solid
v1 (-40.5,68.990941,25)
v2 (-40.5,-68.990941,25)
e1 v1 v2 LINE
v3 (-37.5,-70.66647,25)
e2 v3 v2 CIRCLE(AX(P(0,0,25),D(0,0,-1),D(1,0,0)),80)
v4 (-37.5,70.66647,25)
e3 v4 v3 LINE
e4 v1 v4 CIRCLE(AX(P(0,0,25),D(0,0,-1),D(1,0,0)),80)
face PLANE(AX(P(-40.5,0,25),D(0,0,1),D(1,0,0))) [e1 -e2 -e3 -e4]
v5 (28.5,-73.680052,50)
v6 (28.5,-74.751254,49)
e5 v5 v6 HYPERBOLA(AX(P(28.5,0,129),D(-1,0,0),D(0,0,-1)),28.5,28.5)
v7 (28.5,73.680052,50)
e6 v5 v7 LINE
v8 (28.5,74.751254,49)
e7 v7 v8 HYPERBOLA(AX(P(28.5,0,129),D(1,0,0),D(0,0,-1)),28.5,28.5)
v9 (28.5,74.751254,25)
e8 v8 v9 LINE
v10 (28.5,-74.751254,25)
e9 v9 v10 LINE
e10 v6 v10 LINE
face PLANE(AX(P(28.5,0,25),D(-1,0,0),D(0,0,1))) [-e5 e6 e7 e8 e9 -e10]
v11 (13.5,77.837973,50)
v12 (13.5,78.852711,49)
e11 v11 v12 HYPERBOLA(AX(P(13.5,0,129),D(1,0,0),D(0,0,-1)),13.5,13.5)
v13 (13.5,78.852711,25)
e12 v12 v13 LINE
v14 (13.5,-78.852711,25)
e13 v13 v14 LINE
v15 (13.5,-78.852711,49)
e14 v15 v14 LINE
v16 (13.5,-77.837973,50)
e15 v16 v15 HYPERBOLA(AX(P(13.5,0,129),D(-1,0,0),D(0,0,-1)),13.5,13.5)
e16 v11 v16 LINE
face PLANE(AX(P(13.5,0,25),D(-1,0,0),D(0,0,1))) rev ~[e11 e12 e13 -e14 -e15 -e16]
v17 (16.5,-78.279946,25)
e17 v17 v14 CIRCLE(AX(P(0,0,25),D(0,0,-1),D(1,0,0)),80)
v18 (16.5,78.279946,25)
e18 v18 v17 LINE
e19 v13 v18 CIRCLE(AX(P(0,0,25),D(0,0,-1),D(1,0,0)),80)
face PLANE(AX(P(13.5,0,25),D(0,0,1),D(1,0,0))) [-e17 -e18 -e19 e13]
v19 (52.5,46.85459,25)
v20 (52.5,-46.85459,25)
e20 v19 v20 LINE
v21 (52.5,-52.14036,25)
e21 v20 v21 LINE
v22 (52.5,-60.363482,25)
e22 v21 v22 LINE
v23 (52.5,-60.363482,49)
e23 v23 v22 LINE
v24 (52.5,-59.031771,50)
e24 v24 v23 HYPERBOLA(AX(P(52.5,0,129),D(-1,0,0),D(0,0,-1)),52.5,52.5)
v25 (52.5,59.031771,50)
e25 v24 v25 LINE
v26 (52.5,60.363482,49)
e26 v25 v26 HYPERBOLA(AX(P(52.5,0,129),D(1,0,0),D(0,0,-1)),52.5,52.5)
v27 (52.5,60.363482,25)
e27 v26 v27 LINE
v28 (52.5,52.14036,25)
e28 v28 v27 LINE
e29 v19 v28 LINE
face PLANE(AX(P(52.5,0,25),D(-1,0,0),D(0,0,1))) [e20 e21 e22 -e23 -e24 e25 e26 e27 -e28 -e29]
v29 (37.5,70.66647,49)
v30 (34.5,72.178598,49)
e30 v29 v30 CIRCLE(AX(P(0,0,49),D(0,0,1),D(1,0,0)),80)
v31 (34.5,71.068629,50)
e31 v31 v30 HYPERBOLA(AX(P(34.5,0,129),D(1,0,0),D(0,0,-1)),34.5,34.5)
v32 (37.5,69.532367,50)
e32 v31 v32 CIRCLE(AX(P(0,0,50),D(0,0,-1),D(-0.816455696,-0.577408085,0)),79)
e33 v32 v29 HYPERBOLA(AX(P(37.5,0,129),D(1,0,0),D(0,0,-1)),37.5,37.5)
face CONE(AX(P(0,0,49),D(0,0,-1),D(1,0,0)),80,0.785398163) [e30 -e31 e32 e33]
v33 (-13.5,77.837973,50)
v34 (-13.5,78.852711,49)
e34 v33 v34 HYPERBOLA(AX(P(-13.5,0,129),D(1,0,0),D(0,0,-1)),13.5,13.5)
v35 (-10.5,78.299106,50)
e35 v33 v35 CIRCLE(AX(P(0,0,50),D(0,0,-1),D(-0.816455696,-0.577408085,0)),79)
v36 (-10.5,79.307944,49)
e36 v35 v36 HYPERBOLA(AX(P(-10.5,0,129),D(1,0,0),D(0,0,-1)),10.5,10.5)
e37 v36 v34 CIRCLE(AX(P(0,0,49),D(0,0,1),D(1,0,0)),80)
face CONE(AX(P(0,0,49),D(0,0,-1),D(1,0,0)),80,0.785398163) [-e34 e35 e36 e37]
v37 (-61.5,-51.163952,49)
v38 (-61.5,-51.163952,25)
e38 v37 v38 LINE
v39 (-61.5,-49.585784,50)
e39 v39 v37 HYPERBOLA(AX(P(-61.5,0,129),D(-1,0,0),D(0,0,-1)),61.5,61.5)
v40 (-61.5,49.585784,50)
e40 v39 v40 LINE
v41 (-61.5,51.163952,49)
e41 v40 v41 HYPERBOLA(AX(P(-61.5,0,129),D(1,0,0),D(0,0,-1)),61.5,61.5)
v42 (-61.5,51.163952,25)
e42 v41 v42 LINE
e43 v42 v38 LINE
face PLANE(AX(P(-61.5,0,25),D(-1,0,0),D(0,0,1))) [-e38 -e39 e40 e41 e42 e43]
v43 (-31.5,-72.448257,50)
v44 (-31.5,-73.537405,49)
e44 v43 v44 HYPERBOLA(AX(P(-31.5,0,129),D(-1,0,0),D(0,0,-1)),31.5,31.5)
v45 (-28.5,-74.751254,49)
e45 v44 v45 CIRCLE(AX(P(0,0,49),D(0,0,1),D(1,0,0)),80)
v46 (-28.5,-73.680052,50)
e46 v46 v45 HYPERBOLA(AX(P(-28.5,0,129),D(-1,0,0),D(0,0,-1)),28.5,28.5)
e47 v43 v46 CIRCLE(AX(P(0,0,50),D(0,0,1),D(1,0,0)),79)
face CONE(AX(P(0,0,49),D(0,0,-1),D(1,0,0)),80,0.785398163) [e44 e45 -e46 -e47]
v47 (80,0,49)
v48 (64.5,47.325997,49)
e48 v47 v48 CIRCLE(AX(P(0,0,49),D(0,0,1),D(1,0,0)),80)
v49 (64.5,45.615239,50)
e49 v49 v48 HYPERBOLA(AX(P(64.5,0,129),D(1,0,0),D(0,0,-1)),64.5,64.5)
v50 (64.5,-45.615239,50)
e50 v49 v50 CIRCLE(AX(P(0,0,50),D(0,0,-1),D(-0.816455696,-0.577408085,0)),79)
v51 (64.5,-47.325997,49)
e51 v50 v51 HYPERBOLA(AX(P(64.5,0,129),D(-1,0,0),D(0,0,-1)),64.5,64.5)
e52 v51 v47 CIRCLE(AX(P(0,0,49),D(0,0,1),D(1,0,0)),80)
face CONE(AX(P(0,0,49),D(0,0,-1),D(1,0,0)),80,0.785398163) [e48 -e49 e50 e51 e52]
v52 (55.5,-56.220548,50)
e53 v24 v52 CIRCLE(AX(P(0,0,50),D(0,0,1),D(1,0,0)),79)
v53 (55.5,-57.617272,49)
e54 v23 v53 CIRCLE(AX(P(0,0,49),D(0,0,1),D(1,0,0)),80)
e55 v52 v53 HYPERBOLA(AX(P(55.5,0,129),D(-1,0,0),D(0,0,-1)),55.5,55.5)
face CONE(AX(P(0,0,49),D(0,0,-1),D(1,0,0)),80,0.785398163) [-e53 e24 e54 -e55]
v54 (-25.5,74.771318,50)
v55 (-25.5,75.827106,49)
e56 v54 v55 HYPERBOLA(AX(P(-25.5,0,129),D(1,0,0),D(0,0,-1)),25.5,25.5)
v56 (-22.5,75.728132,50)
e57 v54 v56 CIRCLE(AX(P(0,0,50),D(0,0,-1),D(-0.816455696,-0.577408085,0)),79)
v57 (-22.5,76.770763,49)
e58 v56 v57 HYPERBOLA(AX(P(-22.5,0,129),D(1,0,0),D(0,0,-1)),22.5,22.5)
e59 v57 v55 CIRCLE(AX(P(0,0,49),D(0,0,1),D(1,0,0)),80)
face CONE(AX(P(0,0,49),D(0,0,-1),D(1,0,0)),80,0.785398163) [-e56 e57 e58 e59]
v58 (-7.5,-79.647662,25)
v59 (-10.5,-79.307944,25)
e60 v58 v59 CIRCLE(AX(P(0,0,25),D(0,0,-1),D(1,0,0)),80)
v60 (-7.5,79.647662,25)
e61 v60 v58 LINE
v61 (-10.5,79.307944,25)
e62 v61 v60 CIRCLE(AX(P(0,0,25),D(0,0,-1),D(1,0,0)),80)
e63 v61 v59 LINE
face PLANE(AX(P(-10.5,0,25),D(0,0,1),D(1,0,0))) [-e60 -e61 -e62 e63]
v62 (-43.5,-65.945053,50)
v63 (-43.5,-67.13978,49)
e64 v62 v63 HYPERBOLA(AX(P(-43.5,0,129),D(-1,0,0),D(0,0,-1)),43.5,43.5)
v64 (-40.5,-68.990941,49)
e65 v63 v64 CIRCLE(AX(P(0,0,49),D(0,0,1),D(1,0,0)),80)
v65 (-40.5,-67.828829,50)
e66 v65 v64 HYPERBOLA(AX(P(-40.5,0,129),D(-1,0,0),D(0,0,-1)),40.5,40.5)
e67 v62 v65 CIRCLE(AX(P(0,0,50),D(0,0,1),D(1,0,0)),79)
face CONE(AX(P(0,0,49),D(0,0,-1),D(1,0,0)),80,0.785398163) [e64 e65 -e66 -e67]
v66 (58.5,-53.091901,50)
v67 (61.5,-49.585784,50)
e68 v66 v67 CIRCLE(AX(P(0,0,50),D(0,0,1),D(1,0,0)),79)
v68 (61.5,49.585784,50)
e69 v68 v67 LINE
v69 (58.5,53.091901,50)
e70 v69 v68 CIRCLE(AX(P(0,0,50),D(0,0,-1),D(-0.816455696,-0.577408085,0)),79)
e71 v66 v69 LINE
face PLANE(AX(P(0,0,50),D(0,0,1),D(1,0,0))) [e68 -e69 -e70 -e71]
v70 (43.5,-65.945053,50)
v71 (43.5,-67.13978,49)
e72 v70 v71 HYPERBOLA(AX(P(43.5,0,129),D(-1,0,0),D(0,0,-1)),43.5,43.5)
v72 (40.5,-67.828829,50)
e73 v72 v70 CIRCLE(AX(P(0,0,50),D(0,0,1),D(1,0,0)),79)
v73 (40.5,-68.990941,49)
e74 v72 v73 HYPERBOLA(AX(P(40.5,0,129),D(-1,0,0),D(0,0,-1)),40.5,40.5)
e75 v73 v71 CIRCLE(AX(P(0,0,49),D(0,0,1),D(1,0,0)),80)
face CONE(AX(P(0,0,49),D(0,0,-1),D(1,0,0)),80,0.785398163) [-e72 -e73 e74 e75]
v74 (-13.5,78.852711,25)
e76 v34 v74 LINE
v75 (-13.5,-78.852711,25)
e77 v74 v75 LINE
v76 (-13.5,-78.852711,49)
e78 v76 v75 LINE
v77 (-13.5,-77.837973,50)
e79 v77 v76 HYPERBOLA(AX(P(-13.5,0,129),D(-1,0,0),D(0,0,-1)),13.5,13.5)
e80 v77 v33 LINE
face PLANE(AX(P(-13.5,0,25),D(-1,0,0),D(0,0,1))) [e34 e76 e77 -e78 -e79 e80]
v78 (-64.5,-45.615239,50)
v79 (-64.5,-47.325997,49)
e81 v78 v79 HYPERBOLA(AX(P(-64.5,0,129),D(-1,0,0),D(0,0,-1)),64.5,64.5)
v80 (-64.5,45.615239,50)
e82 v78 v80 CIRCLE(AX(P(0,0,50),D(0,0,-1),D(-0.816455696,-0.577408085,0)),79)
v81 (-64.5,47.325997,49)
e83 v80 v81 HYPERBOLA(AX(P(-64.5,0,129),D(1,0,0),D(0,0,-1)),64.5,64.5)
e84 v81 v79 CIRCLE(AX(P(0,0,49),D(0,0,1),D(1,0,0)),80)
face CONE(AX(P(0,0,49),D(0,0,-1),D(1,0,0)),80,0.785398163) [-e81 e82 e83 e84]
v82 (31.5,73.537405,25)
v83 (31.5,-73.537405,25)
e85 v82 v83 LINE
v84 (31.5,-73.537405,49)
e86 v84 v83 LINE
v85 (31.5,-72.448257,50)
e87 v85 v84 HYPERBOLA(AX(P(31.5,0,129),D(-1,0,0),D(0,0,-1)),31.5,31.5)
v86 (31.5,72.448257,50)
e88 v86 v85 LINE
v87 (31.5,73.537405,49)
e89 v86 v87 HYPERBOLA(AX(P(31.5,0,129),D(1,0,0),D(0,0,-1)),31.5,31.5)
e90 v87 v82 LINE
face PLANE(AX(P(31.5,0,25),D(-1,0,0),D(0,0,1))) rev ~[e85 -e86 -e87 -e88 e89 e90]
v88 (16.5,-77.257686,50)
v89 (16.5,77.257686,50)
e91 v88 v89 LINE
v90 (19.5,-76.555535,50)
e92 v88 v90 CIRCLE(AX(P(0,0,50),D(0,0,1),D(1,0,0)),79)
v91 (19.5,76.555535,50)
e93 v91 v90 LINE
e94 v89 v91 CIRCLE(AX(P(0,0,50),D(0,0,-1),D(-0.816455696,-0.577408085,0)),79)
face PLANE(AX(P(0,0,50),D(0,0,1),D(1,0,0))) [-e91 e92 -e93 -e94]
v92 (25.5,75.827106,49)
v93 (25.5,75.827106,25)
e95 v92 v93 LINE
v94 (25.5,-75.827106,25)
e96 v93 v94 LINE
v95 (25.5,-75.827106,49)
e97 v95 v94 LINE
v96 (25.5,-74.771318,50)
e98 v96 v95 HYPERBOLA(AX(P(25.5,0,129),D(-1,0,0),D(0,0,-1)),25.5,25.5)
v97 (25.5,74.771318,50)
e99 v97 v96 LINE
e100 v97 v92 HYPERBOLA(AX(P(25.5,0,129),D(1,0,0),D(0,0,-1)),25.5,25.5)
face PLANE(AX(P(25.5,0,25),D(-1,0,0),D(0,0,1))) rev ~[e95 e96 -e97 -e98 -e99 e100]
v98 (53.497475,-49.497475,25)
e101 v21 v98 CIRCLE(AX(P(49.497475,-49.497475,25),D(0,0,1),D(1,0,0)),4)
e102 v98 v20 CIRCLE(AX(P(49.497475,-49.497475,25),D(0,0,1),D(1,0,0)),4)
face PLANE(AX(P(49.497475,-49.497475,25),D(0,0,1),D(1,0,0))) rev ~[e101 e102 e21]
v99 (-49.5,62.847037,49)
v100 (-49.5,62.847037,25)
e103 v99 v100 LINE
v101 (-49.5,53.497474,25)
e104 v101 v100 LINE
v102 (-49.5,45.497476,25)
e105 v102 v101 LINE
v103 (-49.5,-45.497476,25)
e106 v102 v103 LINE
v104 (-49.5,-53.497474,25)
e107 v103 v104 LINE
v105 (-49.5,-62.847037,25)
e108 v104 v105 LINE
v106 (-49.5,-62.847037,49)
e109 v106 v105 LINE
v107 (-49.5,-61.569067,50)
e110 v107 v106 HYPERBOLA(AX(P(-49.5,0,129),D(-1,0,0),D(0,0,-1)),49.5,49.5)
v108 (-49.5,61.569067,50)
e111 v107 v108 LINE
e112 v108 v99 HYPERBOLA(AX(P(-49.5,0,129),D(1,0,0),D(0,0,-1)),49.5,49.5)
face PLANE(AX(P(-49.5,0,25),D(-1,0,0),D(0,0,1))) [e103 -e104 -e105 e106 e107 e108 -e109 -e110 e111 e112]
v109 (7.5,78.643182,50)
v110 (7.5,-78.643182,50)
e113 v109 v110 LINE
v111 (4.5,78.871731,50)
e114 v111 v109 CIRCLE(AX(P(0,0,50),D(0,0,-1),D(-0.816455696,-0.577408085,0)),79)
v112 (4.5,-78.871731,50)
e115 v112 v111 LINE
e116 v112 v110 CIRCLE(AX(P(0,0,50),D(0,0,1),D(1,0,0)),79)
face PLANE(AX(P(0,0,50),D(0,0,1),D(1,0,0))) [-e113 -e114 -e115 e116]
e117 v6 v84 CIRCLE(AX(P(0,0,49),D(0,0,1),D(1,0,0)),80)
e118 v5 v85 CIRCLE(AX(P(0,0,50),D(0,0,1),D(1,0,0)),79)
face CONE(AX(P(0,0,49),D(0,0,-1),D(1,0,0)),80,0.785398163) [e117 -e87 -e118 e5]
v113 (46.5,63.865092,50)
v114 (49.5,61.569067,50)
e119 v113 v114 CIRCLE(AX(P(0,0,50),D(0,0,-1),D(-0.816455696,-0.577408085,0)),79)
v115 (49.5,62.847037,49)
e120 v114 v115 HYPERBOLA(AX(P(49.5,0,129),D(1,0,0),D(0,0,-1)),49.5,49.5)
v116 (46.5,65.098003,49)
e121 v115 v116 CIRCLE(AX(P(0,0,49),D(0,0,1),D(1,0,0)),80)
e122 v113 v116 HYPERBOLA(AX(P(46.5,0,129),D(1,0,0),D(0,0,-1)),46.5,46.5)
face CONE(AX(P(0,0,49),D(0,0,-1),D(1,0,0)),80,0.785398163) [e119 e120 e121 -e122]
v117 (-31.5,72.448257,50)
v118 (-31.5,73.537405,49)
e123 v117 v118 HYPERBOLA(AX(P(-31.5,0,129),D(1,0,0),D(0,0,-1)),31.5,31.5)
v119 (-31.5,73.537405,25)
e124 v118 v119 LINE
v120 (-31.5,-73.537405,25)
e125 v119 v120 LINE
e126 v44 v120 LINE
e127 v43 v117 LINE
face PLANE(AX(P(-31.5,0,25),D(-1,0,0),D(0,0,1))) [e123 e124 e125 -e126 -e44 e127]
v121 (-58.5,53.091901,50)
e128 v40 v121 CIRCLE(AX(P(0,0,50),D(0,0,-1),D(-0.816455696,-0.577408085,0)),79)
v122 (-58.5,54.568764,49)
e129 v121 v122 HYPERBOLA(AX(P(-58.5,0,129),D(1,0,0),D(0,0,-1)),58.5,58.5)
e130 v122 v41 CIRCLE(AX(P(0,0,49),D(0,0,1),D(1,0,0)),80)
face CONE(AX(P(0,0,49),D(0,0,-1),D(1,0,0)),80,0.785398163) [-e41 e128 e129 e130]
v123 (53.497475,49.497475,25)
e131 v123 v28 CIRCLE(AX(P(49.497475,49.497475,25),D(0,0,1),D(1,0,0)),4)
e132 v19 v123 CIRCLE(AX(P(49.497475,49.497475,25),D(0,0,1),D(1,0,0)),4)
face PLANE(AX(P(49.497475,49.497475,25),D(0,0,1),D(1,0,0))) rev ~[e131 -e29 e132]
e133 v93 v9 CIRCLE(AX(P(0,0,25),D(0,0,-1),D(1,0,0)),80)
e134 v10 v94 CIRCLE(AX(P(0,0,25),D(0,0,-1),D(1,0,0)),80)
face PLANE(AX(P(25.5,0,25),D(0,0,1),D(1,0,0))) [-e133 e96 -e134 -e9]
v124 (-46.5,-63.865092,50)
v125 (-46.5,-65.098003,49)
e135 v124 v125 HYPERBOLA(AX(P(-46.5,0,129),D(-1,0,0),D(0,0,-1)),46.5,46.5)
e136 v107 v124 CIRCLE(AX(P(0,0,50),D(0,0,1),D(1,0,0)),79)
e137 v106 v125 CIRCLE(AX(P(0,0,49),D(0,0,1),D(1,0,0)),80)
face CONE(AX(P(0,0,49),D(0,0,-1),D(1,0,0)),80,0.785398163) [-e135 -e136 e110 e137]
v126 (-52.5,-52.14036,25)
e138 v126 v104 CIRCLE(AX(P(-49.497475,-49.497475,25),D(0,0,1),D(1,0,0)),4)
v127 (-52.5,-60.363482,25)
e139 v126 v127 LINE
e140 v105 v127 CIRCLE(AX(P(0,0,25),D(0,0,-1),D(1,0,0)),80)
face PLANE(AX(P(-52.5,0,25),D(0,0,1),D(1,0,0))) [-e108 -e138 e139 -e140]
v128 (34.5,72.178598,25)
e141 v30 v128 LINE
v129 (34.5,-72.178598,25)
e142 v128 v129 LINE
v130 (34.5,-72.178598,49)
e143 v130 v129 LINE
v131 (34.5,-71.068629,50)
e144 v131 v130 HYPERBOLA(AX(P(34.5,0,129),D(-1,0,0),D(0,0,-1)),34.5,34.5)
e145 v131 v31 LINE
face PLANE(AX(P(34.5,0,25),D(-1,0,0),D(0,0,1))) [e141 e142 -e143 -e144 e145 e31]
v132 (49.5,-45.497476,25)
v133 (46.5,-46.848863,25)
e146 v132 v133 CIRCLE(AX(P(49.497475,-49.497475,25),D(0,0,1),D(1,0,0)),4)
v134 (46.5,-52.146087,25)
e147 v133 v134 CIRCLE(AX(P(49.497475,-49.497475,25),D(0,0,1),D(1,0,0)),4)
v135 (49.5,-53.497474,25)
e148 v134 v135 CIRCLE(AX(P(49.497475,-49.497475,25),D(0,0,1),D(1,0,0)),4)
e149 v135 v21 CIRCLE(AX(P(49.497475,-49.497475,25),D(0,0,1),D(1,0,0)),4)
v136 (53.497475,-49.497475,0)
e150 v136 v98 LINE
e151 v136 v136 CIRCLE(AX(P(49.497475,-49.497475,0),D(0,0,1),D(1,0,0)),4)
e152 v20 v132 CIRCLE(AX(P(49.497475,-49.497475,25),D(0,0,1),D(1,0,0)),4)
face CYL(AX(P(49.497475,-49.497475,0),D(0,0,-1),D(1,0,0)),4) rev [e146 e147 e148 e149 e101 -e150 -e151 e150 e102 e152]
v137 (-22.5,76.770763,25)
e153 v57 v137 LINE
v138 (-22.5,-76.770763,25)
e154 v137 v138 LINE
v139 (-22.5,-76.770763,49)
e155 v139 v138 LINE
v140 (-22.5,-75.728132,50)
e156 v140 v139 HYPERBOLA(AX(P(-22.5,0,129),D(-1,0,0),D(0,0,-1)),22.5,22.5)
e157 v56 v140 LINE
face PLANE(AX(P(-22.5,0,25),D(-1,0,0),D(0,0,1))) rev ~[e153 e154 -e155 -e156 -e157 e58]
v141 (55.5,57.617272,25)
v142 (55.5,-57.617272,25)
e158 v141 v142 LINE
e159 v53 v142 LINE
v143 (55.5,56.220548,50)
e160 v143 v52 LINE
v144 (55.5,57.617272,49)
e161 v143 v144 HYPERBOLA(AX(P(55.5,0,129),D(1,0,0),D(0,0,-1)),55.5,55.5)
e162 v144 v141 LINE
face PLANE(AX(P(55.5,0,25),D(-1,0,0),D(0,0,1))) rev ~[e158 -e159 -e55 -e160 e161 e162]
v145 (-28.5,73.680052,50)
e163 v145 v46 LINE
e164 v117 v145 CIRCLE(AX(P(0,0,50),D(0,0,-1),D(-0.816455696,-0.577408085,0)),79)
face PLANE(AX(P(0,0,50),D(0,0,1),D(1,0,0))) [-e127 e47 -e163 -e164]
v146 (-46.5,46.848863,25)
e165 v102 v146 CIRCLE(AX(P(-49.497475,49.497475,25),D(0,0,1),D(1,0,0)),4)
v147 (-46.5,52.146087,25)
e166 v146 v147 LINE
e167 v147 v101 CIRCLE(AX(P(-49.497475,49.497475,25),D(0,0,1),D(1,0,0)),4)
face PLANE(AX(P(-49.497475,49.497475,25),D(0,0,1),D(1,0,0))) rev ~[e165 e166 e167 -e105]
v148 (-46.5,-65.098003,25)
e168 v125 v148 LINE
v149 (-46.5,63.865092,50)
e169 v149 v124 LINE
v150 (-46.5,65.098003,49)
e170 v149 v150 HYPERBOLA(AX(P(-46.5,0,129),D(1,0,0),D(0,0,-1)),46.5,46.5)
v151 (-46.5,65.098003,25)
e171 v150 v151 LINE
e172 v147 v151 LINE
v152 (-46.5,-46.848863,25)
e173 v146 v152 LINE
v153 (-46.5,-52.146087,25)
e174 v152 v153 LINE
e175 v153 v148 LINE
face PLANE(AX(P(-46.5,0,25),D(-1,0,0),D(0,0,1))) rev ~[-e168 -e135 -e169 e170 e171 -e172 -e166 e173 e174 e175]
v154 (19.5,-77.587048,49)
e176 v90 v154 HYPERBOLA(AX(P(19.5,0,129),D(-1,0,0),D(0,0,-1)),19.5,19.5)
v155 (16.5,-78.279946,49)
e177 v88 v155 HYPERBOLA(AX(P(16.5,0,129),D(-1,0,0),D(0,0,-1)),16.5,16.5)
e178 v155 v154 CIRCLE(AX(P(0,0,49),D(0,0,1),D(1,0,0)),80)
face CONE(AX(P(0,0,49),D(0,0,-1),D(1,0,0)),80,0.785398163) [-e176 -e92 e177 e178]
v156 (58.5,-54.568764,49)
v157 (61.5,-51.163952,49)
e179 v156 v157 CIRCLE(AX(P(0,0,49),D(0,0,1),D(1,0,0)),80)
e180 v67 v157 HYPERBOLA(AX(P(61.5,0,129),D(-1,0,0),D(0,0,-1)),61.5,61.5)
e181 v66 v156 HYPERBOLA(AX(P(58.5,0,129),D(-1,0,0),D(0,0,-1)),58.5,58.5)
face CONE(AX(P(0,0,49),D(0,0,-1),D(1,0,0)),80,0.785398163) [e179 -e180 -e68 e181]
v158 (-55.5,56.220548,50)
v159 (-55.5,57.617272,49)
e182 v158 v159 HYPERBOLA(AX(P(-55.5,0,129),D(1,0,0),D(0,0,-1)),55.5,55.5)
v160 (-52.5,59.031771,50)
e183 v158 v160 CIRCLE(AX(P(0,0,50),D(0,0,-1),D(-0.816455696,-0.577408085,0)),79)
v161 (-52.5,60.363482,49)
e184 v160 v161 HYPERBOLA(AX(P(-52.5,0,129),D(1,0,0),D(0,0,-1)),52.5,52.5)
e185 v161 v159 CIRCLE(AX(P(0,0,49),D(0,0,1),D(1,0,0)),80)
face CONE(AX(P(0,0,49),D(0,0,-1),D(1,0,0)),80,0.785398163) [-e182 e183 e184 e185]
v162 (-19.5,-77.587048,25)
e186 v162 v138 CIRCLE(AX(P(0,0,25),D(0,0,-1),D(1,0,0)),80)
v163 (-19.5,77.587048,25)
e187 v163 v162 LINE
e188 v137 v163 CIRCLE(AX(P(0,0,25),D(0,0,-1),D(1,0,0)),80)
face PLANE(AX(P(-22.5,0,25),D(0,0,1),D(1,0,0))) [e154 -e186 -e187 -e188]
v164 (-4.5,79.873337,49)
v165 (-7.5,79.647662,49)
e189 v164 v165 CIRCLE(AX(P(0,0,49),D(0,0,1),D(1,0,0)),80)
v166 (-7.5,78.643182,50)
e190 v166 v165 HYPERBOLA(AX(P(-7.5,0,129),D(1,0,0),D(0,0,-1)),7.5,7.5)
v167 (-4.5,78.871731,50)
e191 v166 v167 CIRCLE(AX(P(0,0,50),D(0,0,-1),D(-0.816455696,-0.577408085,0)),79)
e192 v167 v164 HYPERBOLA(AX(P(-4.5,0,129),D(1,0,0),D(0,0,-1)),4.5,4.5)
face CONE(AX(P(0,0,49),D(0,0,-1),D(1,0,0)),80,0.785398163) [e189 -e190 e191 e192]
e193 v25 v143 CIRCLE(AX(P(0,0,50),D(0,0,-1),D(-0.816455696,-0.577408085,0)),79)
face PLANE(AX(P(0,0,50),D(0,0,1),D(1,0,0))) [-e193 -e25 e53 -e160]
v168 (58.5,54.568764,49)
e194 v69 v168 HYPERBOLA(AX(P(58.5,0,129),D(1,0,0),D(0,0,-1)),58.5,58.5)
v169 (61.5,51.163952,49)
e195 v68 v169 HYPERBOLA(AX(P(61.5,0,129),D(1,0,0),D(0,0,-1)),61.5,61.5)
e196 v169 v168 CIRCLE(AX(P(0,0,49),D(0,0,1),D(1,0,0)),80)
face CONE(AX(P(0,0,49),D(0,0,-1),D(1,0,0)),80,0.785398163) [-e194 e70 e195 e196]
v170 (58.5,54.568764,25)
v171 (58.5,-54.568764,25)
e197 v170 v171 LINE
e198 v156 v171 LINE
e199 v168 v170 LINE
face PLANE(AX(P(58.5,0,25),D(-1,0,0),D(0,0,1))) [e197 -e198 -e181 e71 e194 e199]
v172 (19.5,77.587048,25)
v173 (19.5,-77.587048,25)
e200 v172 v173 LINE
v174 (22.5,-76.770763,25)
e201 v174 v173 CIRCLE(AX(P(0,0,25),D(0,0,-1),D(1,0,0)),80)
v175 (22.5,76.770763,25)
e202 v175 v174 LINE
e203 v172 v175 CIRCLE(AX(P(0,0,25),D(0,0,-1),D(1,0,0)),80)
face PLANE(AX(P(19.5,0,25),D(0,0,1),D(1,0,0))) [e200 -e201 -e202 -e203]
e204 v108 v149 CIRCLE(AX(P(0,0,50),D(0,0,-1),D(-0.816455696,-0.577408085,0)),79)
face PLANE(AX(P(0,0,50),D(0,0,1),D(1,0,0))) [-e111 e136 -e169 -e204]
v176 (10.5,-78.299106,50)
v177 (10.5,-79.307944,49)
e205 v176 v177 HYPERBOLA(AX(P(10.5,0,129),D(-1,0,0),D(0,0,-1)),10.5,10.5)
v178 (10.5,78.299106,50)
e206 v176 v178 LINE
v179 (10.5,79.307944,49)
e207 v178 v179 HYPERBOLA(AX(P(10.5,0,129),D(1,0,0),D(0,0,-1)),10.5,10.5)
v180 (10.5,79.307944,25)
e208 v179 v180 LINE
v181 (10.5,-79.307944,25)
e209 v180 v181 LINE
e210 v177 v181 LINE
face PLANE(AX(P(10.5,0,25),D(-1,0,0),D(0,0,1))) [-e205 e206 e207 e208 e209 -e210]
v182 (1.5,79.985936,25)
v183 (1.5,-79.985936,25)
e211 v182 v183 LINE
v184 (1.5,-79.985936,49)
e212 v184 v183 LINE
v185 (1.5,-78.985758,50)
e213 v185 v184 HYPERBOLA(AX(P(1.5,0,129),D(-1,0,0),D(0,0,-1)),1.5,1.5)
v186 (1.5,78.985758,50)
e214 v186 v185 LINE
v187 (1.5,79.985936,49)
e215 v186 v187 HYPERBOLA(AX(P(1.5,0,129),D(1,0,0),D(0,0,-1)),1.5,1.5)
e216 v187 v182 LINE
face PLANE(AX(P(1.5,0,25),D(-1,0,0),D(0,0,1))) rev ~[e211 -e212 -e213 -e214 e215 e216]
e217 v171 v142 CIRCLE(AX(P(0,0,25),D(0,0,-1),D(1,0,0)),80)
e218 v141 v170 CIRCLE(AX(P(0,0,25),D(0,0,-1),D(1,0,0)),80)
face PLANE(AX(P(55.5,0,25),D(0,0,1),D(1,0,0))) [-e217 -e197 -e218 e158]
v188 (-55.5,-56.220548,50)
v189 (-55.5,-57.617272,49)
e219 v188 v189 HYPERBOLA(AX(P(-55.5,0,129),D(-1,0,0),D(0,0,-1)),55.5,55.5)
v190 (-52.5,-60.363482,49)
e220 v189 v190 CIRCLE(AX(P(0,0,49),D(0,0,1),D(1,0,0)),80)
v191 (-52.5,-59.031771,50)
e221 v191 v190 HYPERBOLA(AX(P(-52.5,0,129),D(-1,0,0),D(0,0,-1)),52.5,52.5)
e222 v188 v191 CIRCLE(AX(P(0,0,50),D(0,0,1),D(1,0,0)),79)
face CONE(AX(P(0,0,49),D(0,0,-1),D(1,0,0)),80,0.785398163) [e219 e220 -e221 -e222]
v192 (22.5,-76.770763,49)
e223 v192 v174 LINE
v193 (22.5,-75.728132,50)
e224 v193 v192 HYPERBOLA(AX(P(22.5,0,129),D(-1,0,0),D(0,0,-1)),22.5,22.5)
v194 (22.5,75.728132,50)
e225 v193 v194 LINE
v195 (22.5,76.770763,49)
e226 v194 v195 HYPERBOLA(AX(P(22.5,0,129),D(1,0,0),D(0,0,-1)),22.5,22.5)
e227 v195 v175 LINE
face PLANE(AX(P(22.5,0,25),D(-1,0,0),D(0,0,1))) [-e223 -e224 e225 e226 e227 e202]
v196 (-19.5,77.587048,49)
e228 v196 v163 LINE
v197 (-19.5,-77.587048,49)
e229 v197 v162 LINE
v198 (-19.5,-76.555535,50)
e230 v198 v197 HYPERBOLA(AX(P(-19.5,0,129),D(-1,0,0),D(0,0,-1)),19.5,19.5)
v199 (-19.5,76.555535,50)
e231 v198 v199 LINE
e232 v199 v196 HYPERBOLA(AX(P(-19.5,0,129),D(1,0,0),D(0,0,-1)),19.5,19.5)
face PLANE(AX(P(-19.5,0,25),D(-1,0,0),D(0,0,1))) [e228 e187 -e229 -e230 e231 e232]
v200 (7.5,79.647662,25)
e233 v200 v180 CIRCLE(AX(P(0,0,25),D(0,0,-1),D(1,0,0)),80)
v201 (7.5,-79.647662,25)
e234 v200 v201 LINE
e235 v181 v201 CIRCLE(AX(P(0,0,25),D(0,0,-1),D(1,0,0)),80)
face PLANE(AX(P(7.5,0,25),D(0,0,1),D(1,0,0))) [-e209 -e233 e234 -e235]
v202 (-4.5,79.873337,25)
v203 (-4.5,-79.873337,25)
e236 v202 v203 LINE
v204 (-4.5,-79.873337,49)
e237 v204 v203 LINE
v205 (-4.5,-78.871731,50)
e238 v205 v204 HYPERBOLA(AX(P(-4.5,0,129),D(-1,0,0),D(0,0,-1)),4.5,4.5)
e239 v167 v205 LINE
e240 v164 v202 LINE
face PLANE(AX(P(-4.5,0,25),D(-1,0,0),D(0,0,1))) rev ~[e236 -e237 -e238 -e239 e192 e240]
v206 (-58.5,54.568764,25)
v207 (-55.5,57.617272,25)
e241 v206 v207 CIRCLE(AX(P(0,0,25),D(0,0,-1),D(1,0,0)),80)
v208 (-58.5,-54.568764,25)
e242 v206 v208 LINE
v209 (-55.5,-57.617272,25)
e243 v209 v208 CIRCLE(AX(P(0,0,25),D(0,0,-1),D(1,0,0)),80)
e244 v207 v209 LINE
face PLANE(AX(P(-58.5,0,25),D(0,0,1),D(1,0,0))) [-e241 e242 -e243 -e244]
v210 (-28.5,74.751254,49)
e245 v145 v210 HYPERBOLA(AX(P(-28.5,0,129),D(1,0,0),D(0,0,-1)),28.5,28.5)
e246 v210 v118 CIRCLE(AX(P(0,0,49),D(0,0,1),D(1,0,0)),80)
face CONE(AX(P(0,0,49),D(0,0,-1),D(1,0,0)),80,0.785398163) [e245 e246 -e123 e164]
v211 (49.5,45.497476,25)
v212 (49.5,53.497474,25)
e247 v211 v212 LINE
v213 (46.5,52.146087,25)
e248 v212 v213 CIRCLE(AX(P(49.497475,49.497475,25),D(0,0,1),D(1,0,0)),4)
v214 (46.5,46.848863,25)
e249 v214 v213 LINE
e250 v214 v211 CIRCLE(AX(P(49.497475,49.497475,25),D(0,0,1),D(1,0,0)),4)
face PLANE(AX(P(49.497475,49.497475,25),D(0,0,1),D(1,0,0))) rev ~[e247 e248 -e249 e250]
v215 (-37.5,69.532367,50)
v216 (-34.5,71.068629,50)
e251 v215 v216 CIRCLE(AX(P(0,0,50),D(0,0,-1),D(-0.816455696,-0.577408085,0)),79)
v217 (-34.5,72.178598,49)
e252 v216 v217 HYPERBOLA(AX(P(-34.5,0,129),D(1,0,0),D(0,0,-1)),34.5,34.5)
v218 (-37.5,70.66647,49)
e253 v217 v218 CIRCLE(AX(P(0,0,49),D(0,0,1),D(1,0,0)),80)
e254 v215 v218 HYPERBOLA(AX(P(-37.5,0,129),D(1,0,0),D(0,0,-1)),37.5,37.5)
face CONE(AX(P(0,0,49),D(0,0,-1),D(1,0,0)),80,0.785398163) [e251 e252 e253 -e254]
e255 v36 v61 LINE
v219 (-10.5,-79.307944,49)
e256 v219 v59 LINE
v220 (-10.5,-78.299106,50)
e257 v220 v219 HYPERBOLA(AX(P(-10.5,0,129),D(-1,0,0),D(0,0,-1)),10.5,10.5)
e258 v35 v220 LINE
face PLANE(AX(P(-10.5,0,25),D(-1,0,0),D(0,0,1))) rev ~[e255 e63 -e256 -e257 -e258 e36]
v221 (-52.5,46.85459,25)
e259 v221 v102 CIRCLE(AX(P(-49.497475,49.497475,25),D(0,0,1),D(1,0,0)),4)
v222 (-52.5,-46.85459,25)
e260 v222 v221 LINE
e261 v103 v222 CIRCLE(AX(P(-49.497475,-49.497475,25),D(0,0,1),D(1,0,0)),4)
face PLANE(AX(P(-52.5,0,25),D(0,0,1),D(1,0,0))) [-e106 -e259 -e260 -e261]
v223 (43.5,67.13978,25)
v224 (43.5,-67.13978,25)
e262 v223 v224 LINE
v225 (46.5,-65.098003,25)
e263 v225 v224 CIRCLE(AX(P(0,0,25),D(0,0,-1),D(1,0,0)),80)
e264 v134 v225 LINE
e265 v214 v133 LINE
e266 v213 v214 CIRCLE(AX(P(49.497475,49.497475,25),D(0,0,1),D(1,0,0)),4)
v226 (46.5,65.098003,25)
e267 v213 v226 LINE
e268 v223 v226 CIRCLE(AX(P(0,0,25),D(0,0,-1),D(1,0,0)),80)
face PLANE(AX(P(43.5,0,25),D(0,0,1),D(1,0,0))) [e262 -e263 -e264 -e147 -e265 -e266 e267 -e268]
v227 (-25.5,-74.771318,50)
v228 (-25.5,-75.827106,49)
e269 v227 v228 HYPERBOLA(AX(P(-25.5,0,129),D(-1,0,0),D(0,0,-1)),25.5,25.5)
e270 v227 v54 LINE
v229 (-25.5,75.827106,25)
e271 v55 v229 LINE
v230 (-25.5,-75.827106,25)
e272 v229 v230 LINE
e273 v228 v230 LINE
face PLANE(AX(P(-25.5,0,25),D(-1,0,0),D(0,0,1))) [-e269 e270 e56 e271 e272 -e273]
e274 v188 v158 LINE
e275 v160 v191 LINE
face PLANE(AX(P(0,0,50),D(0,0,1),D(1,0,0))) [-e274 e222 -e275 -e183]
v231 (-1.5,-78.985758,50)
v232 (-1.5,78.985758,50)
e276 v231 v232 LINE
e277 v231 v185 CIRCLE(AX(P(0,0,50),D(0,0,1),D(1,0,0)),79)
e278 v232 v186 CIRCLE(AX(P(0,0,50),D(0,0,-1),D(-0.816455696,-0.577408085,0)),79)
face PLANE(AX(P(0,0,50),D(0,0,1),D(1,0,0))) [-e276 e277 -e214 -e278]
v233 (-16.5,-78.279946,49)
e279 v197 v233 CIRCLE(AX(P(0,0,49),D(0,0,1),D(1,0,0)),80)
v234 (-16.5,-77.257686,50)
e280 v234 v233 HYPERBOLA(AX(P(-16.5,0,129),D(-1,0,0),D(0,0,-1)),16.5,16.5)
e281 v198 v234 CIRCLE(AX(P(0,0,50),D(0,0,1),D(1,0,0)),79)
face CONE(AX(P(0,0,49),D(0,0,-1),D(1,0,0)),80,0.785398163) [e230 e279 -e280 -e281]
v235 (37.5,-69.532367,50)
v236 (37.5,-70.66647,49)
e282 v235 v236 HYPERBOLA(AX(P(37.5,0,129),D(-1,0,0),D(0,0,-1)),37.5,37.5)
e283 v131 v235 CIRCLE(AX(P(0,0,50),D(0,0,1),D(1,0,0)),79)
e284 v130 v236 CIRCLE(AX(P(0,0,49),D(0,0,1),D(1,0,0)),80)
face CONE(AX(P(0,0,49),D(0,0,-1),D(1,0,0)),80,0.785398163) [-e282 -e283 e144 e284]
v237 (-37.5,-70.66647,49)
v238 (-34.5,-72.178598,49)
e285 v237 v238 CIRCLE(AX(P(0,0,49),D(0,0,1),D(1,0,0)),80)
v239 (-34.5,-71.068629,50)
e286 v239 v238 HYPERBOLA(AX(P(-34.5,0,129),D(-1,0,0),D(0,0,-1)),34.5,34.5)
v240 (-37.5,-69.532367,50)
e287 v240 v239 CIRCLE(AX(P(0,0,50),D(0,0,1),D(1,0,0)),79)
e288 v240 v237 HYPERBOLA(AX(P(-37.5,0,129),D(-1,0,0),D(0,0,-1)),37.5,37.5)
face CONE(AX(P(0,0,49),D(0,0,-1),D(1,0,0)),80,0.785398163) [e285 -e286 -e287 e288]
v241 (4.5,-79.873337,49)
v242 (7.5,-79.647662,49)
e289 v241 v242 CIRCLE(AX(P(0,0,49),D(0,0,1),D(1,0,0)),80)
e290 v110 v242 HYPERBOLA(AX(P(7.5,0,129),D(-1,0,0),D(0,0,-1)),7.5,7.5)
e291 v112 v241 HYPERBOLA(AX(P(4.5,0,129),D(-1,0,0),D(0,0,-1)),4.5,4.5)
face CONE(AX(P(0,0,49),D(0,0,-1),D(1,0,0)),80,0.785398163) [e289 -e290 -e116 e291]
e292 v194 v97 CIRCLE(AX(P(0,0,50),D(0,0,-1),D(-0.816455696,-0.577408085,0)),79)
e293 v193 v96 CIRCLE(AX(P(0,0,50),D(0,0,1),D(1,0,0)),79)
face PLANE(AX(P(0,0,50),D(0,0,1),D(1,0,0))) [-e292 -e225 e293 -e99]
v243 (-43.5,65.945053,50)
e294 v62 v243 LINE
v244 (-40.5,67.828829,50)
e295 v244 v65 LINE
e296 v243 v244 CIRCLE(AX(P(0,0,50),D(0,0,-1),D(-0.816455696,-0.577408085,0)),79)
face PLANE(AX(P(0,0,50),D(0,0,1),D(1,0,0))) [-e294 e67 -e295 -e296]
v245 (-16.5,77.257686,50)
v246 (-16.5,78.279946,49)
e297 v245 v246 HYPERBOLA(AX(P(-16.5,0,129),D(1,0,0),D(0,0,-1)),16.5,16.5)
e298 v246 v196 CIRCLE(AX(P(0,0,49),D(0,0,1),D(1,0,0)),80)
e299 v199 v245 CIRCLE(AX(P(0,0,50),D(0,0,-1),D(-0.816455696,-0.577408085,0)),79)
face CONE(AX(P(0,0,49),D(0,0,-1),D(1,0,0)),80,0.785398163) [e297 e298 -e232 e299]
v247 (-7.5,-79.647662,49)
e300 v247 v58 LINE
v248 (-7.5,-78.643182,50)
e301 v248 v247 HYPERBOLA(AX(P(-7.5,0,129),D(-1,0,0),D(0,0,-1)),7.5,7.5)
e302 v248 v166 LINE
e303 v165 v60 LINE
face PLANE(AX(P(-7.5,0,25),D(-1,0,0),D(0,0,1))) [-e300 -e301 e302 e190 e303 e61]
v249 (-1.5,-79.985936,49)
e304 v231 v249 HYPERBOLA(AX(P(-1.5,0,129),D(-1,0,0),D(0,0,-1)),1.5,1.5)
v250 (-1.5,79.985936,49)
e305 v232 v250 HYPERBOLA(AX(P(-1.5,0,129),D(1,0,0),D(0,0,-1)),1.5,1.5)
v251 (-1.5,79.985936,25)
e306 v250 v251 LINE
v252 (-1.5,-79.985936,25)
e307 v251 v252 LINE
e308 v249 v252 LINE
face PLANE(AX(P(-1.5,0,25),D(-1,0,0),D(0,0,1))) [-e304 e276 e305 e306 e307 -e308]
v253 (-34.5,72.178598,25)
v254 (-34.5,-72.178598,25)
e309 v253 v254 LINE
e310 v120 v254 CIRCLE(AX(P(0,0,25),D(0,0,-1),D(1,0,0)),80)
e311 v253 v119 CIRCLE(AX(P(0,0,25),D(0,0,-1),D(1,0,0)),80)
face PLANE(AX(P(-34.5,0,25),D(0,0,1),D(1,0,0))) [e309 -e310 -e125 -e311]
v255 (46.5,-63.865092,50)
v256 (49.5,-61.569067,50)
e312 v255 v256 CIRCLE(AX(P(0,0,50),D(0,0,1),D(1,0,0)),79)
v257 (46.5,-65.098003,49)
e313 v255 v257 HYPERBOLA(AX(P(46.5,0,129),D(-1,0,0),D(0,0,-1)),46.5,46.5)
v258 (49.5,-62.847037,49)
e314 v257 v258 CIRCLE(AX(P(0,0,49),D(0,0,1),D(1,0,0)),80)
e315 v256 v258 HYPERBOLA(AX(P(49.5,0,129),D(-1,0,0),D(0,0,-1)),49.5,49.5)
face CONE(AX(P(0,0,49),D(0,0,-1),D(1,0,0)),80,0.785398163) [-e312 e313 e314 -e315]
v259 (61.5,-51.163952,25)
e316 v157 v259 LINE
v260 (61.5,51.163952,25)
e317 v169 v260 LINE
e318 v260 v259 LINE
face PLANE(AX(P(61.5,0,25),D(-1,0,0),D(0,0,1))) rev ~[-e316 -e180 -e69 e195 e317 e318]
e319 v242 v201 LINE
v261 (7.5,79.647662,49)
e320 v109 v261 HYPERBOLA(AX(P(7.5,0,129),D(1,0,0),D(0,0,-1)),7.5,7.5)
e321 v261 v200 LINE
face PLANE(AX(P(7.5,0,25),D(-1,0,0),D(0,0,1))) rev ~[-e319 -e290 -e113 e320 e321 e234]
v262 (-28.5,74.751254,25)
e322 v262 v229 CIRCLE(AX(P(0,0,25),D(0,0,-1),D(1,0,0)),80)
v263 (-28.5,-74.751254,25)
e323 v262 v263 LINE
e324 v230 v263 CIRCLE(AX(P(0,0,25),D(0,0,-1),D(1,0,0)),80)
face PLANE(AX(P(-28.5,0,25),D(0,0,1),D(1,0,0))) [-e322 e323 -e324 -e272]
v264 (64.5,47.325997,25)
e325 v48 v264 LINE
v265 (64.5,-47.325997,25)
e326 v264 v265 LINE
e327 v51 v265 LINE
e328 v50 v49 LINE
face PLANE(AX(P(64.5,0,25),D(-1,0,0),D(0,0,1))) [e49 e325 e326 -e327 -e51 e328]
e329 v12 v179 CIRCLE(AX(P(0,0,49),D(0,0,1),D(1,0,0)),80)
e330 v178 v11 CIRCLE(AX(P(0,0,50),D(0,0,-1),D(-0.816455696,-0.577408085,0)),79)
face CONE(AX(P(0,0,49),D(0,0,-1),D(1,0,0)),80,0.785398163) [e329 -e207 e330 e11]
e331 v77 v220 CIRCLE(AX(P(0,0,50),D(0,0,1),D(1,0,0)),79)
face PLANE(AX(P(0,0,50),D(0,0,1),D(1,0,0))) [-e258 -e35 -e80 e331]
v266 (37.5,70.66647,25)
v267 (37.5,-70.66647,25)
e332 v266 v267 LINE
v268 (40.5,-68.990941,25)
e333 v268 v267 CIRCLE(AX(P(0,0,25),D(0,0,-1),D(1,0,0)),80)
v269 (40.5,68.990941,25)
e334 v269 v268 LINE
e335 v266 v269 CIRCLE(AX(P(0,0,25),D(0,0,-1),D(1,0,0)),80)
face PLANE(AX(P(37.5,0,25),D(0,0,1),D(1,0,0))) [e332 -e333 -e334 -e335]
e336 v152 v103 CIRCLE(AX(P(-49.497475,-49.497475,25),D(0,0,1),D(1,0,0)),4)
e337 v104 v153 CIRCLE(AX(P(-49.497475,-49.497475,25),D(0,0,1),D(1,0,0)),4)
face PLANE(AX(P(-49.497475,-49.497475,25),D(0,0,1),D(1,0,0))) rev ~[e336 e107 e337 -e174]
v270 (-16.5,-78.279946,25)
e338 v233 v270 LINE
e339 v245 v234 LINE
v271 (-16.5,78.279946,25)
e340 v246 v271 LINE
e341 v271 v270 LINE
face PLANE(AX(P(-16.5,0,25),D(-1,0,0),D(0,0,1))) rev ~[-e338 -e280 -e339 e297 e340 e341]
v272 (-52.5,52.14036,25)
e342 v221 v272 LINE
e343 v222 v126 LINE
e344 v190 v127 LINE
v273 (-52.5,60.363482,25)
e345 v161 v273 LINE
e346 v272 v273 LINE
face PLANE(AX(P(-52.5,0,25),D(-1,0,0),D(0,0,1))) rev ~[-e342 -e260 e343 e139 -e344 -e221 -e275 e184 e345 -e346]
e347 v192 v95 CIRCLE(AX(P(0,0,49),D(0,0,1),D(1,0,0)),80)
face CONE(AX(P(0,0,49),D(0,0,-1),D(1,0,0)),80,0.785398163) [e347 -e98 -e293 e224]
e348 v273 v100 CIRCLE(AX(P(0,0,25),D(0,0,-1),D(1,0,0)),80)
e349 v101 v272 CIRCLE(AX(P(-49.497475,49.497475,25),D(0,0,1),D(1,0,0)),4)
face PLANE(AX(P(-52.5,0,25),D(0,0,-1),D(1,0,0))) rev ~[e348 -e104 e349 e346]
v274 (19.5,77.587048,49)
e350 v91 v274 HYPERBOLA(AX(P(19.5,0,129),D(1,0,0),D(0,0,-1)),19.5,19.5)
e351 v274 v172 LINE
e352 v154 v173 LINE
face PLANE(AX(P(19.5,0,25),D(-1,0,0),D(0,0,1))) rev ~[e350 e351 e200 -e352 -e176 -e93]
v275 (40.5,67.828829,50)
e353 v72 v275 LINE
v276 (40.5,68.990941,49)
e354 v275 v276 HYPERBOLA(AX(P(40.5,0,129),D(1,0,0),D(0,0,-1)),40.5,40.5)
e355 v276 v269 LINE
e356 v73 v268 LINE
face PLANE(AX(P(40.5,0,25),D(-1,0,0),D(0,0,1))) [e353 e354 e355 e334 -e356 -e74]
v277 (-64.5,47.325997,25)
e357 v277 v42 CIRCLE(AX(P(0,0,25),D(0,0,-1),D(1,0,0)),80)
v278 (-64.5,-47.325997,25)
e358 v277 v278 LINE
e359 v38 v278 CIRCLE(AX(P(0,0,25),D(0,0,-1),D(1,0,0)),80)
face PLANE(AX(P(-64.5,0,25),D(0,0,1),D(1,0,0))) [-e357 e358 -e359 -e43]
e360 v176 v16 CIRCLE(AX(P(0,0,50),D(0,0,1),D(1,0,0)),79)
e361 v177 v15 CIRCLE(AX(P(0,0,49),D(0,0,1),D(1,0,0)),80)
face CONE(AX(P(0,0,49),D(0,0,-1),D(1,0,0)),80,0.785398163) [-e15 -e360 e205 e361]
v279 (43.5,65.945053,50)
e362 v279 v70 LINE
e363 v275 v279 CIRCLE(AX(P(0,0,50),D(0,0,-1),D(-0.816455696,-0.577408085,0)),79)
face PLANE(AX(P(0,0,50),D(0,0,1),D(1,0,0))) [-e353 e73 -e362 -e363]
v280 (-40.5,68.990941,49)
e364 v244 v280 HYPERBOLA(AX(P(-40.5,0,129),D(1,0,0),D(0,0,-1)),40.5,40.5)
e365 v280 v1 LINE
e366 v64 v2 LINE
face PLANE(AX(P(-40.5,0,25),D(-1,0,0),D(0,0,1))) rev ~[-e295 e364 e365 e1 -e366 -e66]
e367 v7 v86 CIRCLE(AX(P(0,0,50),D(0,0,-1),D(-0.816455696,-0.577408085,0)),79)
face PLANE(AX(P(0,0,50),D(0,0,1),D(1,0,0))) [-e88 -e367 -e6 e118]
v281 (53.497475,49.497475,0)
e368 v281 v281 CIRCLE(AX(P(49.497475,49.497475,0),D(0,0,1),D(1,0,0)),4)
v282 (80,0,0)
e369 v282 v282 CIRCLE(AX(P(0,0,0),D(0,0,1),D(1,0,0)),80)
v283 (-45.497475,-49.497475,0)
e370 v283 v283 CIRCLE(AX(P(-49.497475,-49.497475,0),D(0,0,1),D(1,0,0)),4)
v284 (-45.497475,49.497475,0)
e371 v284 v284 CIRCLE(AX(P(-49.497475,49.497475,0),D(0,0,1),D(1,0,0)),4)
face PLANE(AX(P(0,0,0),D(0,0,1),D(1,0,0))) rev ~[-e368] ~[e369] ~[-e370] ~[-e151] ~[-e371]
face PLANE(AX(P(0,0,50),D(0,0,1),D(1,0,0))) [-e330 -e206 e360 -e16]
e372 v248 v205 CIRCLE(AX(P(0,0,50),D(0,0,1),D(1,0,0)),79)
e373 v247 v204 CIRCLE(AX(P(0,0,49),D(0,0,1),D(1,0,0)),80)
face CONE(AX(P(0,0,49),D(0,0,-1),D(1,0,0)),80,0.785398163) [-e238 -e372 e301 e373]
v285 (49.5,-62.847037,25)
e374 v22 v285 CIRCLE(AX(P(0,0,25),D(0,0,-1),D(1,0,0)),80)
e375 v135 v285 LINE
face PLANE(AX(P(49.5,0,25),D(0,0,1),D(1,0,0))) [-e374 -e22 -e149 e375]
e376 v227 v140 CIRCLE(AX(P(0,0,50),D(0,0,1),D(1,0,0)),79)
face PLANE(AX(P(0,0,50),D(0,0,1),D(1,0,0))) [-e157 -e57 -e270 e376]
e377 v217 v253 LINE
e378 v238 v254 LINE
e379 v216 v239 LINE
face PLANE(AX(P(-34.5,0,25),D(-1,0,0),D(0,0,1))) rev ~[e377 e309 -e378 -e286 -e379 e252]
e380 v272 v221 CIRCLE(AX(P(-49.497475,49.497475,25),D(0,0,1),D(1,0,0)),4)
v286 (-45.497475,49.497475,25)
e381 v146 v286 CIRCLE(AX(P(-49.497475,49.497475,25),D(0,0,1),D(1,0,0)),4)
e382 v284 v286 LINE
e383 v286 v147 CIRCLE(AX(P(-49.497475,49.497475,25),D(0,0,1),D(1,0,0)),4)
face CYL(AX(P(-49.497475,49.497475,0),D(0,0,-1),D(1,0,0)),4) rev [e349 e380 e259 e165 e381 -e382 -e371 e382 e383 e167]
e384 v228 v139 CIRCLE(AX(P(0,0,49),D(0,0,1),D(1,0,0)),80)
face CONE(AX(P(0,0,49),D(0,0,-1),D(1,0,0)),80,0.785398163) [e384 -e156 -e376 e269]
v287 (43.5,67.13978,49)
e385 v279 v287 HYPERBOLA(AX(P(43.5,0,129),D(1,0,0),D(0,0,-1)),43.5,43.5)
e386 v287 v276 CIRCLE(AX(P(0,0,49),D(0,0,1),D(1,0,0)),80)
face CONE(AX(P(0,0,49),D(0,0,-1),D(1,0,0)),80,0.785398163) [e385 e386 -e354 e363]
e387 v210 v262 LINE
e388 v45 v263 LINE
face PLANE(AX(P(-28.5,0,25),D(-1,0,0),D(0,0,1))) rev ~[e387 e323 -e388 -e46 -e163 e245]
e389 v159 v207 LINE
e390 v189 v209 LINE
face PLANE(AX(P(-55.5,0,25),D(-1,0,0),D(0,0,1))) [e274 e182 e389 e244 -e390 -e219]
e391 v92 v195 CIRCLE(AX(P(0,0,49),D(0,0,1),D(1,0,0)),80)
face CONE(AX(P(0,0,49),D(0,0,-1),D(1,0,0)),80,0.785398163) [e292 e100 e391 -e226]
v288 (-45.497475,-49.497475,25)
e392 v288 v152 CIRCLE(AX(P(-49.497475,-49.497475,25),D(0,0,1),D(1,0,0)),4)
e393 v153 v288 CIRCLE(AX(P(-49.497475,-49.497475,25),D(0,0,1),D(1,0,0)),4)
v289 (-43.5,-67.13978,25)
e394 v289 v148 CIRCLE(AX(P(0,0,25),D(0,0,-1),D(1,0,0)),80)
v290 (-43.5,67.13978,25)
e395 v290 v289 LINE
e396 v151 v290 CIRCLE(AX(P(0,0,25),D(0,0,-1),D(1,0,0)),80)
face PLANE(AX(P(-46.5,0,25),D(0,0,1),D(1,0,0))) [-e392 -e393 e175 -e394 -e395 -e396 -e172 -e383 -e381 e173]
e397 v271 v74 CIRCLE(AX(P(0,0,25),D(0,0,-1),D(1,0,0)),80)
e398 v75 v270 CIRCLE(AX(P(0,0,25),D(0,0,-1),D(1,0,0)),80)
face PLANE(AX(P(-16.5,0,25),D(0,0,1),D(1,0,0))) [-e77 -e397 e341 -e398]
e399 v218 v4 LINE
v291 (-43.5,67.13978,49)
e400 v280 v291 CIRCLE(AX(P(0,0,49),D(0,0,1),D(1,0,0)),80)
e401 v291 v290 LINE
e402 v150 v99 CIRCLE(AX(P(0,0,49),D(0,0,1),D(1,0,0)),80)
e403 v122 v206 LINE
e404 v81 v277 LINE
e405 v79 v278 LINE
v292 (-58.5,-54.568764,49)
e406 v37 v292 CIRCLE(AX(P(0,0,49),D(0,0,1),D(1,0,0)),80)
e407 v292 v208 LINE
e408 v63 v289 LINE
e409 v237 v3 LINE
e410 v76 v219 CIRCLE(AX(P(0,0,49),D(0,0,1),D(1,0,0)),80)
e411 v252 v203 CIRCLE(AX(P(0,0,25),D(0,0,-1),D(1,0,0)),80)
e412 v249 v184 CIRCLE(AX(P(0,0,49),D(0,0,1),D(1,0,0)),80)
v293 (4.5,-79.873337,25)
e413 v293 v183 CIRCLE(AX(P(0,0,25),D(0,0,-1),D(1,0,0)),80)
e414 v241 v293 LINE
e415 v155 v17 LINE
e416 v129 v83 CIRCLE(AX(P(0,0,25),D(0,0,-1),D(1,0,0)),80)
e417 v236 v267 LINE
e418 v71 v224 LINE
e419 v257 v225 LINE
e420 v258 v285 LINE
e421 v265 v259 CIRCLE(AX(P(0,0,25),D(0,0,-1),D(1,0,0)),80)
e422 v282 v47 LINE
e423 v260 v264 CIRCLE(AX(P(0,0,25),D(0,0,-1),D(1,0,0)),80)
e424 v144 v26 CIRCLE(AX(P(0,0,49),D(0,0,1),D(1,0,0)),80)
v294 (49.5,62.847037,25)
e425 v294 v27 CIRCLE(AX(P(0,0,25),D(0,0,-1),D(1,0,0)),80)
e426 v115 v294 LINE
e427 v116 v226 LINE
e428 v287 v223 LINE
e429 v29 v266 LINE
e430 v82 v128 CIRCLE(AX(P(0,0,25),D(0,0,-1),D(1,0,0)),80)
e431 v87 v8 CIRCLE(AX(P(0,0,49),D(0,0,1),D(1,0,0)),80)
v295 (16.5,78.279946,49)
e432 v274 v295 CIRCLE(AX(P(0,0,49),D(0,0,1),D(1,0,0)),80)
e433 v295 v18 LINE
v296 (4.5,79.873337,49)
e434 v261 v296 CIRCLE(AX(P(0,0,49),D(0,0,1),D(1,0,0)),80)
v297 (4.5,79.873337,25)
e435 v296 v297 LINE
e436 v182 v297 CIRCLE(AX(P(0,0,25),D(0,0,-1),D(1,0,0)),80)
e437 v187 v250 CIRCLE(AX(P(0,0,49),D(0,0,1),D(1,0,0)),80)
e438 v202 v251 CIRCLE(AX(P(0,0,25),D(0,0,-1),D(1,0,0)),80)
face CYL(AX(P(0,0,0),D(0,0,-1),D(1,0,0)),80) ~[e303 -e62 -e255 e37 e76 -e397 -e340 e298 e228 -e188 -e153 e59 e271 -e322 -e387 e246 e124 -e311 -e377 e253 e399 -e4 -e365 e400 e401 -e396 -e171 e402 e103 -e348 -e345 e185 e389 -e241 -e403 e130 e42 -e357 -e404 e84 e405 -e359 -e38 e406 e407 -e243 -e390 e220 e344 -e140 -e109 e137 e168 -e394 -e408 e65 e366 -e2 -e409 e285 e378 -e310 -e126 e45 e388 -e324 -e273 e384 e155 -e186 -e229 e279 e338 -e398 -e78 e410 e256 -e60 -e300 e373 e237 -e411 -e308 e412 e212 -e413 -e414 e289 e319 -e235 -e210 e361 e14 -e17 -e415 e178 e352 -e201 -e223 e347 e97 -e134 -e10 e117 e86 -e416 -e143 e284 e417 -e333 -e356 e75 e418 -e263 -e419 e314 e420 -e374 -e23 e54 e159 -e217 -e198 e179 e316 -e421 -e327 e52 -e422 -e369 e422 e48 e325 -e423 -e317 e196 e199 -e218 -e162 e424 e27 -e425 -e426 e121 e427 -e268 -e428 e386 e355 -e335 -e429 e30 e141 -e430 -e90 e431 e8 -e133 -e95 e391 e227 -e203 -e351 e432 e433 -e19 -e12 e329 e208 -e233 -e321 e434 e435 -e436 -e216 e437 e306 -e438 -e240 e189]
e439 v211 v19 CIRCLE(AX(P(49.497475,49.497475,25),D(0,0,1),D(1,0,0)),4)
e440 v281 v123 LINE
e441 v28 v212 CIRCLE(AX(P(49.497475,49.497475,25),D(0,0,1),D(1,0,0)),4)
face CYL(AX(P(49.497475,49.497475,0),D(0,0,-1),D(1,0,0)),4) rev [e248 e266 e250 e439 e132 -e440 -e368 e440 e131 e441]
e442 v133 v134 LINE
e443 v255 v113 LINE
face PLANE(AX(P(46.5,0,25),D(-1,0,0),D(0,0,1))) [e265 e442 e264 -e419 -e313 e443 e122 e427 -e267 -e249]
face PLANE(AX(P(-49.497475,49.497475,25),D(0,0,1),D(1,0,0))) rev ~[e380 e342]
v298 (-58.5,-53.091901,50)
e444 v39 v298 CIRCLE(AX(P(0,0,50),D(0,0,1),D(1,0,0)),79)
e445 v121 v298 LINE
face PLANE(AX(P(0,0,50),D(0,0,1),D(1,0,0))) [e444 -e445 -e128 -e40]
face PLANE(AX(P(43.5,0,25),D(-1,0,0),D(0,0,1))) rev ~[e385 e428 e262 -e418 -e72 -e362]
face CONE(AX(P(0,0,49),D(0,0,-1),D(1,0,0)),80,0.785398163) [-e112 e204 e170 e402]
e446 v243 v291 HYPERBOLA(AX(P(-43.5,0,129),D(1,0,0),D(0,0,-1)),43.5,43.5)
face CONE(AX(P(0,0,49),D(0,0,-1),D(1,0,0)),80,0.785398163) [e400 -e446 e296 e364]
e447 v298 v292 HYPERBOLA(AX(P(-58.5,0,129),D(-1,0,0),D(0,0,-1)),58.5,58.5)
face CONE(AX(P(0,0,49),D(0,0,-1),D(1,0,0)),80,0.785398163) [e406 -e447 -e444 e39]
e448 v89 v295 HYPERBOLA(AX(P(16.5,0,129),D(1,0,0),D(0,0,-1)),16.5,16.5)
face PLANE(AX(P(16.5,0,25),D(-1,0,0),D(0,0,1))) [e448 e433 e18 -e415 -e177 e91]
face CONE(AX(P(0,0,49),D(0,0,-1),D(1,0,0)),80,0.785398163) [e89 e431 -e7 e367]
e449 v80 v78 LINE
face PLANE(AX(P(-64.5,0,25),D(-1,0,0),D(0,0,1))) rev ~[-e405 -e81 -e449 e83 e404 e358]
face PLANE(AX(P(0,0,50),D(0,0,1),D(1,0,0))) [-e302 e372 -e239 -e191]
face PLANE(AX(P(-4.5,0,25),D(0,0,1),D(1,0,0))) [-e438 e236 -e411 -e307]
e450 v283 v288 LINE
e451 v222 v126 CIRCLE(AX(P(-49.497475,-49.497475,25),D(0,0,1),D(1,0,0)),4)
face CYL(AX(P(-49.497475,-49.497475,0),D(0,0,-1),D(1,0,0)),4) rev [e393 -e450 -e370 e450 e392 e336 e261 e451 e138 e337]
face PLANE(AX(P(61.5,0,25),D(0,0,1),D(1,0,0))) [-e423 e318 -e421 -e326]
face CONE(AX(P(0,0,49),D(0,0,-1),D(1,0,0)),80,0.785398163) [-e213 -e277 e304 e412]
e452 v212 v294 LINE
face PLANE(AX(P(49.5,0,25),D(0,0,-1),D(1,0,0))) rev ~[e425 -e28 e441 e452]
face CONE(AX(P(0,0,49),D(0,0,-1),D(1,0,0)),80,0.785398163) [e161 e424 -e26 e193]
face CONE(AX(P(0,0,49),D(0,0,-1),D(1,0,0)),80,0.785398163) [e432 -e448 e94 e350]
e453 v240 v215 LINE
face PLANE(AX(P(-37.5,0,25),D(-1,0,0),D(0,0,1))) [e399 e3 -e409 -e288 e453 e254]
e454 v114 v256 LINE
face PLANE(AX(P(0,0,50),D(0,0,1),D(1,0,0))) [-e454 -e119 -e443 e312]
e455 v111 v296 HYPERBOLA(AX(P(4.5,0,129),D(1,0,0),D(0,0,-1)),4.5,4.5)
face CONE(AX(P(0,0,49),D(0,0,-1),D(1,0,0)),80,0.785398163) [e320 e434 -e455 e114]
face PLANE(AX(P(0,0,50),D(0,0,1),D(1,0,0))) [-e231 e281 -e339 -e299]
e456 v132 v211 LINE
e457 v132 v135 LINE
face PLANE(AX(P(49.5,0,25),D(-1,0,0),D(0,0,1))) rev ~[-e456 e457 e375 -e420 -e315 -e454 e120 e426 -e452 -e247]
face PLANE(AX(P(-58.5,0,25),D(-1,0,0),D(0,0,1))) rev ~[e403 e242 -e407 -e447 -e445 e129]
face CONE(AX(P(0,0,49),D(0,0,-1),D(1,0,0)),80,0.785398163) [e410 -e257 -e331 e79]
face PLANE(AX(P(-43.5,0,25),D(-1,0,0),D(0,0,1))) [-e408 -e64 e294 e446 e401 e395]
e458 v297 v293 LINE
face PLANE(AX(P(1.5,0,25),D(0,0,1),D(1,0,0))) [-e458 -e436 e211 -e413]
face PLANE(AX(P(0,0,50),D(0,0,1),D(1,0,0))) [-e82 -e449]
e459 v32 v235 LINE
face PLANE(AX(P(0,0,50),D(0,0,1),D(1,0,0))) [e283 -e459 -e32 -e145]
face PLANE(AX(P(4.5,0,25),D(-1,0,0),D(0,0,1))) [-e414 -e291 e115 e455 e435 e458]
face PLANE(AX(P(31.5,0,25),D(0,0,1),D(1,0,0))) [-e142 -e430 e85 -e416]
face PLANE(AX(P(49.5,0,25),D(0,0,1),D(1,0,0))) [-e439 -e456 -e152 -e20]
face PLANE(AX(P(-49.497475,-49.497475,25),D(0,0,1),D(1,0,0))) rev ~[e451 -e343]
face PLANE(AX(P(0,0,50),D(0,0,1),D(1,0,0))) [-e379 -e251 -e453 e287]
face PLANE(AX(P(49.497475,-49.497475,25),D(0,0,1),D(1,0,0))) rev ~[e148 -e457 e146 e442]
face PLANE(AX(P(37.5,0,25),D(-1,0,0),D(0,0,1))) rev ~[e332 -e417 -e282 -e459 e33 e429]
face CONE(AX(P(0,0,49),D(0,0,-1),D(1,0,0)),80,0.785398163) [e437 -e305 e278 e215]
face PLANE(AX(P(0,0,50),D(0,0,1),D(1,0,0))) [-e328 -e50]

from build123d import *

# Parameters (mm, degrees)
F0_R          = 80
F1_DEPTH      = 50
F2_R          = 4
F3_DEPTH      = 25
F4_SIZE       = 1
F5_W          = 3
F5_H          = 35
F6_DEPTH      = 100
F6_DEPTH_BACK = 100


with BuildPart() as f1:
    # F0 (on Top) → F1 (new body)
    with BuildSketch(Plane.XY):
        Circle(F0_R)
    extrude(amount=F1_DEPTH)

    # F2 (on Top) → F3 (cut)
    with BuildSketch(Plane.XY):
        with Locations((-49.497475, 49.497475)):
            Circle(F2_R)
        with Locations((-49.497475, -49.497475)):
            Circle(F2_R)
        with Locations((49.497475, 49.497475)):
            Circle(F2_R)
        with Locations((49.497475, -49.497475)):
            Circle(F2_R)
    extrude(amount=F3_DEPTH, mode=Mode.SUBTRACT)

    # F4
    f4_edges = [f1.edges().sort_by_distance(p)[0] for p in [
        (-80, 0, 50),
    ]]
    chamfer(f4_edges, length=F4_SIZE)

    # F5 (on Front) → F6 (cut, two sides)
    with BuildSketch(Plane.XZ) as f6_sk:
        with Locations((-63, 42.5)):
            Rectangle(F5_W, F5_H)
        with Locations((-57, 42.5)):
            Rectangle(F5_W, F5_H)
        with Locations((-51, 42.5)):
            Rectangle(F5_W, F5_H)
        with Locations((-45, 42.5)):
            Rectangle(F5_W, F5_H)
        with Locations((-39, 42.5)):
            Rectangle(F5_W, F5_H)
        with Locations((-33, 42.5)):
            Rectangle(F5_W, F5_H)
        with Locations((-27, 42.5)):
            Rectangle(F5_W, F5_H)
        with Locations((-21, 42.5)):
            Rectangle(F5_W, F5_H)
        with Locations((-15, 42.5)):
            Rectangle(F5_W, F5_H)
        with Locations((-9, 42.5)):
            Rectangle(F5_W, F5_H)
        with Locations((-3, 42.5)):
            Rectangle(F5_W, F5_H)
        with Locations((3, 42.5)):
            Rectangle(F5_W, F5_H)
        with Locations((9, 42.5)):
            Rectangle(F5_W, F5_H)
        with Locations((15, 42.5)):
            Rectangle(F5_W, F5_H)
        with Locations((21, 42.5)):
            Rectangle(F5_W, F5_H)
        with Locations((27, 42.5)):
            Rectangle(F5_W, F5_H)
        with Locations((33, 42.5)):
            Rectangle(F5_W, F5_H)
        with Locations((39, 42.5)):
            Rectangle(F5_W, F5_H)
        with Locations((45, 42.5)):
            Rectangle(F5_W, F5_H)
        with Locations((51, 42.5)):
            Rectangle(F5_W, F5_H)
        with Locations((57, 42.5)):
            Rectangle(F5_W, F5_H)
        with Locations((63, 42.5)):
            Rectangle(F5_W, F5_H)
    extrude(amount=F6_DEPTH, mode=Mode.SUBTRACT)
    extrude(f6_sk.sketch, amount=-F6_DEPTH_BACK, mode=Mode.SUBTRACT)


solid = f1.part
